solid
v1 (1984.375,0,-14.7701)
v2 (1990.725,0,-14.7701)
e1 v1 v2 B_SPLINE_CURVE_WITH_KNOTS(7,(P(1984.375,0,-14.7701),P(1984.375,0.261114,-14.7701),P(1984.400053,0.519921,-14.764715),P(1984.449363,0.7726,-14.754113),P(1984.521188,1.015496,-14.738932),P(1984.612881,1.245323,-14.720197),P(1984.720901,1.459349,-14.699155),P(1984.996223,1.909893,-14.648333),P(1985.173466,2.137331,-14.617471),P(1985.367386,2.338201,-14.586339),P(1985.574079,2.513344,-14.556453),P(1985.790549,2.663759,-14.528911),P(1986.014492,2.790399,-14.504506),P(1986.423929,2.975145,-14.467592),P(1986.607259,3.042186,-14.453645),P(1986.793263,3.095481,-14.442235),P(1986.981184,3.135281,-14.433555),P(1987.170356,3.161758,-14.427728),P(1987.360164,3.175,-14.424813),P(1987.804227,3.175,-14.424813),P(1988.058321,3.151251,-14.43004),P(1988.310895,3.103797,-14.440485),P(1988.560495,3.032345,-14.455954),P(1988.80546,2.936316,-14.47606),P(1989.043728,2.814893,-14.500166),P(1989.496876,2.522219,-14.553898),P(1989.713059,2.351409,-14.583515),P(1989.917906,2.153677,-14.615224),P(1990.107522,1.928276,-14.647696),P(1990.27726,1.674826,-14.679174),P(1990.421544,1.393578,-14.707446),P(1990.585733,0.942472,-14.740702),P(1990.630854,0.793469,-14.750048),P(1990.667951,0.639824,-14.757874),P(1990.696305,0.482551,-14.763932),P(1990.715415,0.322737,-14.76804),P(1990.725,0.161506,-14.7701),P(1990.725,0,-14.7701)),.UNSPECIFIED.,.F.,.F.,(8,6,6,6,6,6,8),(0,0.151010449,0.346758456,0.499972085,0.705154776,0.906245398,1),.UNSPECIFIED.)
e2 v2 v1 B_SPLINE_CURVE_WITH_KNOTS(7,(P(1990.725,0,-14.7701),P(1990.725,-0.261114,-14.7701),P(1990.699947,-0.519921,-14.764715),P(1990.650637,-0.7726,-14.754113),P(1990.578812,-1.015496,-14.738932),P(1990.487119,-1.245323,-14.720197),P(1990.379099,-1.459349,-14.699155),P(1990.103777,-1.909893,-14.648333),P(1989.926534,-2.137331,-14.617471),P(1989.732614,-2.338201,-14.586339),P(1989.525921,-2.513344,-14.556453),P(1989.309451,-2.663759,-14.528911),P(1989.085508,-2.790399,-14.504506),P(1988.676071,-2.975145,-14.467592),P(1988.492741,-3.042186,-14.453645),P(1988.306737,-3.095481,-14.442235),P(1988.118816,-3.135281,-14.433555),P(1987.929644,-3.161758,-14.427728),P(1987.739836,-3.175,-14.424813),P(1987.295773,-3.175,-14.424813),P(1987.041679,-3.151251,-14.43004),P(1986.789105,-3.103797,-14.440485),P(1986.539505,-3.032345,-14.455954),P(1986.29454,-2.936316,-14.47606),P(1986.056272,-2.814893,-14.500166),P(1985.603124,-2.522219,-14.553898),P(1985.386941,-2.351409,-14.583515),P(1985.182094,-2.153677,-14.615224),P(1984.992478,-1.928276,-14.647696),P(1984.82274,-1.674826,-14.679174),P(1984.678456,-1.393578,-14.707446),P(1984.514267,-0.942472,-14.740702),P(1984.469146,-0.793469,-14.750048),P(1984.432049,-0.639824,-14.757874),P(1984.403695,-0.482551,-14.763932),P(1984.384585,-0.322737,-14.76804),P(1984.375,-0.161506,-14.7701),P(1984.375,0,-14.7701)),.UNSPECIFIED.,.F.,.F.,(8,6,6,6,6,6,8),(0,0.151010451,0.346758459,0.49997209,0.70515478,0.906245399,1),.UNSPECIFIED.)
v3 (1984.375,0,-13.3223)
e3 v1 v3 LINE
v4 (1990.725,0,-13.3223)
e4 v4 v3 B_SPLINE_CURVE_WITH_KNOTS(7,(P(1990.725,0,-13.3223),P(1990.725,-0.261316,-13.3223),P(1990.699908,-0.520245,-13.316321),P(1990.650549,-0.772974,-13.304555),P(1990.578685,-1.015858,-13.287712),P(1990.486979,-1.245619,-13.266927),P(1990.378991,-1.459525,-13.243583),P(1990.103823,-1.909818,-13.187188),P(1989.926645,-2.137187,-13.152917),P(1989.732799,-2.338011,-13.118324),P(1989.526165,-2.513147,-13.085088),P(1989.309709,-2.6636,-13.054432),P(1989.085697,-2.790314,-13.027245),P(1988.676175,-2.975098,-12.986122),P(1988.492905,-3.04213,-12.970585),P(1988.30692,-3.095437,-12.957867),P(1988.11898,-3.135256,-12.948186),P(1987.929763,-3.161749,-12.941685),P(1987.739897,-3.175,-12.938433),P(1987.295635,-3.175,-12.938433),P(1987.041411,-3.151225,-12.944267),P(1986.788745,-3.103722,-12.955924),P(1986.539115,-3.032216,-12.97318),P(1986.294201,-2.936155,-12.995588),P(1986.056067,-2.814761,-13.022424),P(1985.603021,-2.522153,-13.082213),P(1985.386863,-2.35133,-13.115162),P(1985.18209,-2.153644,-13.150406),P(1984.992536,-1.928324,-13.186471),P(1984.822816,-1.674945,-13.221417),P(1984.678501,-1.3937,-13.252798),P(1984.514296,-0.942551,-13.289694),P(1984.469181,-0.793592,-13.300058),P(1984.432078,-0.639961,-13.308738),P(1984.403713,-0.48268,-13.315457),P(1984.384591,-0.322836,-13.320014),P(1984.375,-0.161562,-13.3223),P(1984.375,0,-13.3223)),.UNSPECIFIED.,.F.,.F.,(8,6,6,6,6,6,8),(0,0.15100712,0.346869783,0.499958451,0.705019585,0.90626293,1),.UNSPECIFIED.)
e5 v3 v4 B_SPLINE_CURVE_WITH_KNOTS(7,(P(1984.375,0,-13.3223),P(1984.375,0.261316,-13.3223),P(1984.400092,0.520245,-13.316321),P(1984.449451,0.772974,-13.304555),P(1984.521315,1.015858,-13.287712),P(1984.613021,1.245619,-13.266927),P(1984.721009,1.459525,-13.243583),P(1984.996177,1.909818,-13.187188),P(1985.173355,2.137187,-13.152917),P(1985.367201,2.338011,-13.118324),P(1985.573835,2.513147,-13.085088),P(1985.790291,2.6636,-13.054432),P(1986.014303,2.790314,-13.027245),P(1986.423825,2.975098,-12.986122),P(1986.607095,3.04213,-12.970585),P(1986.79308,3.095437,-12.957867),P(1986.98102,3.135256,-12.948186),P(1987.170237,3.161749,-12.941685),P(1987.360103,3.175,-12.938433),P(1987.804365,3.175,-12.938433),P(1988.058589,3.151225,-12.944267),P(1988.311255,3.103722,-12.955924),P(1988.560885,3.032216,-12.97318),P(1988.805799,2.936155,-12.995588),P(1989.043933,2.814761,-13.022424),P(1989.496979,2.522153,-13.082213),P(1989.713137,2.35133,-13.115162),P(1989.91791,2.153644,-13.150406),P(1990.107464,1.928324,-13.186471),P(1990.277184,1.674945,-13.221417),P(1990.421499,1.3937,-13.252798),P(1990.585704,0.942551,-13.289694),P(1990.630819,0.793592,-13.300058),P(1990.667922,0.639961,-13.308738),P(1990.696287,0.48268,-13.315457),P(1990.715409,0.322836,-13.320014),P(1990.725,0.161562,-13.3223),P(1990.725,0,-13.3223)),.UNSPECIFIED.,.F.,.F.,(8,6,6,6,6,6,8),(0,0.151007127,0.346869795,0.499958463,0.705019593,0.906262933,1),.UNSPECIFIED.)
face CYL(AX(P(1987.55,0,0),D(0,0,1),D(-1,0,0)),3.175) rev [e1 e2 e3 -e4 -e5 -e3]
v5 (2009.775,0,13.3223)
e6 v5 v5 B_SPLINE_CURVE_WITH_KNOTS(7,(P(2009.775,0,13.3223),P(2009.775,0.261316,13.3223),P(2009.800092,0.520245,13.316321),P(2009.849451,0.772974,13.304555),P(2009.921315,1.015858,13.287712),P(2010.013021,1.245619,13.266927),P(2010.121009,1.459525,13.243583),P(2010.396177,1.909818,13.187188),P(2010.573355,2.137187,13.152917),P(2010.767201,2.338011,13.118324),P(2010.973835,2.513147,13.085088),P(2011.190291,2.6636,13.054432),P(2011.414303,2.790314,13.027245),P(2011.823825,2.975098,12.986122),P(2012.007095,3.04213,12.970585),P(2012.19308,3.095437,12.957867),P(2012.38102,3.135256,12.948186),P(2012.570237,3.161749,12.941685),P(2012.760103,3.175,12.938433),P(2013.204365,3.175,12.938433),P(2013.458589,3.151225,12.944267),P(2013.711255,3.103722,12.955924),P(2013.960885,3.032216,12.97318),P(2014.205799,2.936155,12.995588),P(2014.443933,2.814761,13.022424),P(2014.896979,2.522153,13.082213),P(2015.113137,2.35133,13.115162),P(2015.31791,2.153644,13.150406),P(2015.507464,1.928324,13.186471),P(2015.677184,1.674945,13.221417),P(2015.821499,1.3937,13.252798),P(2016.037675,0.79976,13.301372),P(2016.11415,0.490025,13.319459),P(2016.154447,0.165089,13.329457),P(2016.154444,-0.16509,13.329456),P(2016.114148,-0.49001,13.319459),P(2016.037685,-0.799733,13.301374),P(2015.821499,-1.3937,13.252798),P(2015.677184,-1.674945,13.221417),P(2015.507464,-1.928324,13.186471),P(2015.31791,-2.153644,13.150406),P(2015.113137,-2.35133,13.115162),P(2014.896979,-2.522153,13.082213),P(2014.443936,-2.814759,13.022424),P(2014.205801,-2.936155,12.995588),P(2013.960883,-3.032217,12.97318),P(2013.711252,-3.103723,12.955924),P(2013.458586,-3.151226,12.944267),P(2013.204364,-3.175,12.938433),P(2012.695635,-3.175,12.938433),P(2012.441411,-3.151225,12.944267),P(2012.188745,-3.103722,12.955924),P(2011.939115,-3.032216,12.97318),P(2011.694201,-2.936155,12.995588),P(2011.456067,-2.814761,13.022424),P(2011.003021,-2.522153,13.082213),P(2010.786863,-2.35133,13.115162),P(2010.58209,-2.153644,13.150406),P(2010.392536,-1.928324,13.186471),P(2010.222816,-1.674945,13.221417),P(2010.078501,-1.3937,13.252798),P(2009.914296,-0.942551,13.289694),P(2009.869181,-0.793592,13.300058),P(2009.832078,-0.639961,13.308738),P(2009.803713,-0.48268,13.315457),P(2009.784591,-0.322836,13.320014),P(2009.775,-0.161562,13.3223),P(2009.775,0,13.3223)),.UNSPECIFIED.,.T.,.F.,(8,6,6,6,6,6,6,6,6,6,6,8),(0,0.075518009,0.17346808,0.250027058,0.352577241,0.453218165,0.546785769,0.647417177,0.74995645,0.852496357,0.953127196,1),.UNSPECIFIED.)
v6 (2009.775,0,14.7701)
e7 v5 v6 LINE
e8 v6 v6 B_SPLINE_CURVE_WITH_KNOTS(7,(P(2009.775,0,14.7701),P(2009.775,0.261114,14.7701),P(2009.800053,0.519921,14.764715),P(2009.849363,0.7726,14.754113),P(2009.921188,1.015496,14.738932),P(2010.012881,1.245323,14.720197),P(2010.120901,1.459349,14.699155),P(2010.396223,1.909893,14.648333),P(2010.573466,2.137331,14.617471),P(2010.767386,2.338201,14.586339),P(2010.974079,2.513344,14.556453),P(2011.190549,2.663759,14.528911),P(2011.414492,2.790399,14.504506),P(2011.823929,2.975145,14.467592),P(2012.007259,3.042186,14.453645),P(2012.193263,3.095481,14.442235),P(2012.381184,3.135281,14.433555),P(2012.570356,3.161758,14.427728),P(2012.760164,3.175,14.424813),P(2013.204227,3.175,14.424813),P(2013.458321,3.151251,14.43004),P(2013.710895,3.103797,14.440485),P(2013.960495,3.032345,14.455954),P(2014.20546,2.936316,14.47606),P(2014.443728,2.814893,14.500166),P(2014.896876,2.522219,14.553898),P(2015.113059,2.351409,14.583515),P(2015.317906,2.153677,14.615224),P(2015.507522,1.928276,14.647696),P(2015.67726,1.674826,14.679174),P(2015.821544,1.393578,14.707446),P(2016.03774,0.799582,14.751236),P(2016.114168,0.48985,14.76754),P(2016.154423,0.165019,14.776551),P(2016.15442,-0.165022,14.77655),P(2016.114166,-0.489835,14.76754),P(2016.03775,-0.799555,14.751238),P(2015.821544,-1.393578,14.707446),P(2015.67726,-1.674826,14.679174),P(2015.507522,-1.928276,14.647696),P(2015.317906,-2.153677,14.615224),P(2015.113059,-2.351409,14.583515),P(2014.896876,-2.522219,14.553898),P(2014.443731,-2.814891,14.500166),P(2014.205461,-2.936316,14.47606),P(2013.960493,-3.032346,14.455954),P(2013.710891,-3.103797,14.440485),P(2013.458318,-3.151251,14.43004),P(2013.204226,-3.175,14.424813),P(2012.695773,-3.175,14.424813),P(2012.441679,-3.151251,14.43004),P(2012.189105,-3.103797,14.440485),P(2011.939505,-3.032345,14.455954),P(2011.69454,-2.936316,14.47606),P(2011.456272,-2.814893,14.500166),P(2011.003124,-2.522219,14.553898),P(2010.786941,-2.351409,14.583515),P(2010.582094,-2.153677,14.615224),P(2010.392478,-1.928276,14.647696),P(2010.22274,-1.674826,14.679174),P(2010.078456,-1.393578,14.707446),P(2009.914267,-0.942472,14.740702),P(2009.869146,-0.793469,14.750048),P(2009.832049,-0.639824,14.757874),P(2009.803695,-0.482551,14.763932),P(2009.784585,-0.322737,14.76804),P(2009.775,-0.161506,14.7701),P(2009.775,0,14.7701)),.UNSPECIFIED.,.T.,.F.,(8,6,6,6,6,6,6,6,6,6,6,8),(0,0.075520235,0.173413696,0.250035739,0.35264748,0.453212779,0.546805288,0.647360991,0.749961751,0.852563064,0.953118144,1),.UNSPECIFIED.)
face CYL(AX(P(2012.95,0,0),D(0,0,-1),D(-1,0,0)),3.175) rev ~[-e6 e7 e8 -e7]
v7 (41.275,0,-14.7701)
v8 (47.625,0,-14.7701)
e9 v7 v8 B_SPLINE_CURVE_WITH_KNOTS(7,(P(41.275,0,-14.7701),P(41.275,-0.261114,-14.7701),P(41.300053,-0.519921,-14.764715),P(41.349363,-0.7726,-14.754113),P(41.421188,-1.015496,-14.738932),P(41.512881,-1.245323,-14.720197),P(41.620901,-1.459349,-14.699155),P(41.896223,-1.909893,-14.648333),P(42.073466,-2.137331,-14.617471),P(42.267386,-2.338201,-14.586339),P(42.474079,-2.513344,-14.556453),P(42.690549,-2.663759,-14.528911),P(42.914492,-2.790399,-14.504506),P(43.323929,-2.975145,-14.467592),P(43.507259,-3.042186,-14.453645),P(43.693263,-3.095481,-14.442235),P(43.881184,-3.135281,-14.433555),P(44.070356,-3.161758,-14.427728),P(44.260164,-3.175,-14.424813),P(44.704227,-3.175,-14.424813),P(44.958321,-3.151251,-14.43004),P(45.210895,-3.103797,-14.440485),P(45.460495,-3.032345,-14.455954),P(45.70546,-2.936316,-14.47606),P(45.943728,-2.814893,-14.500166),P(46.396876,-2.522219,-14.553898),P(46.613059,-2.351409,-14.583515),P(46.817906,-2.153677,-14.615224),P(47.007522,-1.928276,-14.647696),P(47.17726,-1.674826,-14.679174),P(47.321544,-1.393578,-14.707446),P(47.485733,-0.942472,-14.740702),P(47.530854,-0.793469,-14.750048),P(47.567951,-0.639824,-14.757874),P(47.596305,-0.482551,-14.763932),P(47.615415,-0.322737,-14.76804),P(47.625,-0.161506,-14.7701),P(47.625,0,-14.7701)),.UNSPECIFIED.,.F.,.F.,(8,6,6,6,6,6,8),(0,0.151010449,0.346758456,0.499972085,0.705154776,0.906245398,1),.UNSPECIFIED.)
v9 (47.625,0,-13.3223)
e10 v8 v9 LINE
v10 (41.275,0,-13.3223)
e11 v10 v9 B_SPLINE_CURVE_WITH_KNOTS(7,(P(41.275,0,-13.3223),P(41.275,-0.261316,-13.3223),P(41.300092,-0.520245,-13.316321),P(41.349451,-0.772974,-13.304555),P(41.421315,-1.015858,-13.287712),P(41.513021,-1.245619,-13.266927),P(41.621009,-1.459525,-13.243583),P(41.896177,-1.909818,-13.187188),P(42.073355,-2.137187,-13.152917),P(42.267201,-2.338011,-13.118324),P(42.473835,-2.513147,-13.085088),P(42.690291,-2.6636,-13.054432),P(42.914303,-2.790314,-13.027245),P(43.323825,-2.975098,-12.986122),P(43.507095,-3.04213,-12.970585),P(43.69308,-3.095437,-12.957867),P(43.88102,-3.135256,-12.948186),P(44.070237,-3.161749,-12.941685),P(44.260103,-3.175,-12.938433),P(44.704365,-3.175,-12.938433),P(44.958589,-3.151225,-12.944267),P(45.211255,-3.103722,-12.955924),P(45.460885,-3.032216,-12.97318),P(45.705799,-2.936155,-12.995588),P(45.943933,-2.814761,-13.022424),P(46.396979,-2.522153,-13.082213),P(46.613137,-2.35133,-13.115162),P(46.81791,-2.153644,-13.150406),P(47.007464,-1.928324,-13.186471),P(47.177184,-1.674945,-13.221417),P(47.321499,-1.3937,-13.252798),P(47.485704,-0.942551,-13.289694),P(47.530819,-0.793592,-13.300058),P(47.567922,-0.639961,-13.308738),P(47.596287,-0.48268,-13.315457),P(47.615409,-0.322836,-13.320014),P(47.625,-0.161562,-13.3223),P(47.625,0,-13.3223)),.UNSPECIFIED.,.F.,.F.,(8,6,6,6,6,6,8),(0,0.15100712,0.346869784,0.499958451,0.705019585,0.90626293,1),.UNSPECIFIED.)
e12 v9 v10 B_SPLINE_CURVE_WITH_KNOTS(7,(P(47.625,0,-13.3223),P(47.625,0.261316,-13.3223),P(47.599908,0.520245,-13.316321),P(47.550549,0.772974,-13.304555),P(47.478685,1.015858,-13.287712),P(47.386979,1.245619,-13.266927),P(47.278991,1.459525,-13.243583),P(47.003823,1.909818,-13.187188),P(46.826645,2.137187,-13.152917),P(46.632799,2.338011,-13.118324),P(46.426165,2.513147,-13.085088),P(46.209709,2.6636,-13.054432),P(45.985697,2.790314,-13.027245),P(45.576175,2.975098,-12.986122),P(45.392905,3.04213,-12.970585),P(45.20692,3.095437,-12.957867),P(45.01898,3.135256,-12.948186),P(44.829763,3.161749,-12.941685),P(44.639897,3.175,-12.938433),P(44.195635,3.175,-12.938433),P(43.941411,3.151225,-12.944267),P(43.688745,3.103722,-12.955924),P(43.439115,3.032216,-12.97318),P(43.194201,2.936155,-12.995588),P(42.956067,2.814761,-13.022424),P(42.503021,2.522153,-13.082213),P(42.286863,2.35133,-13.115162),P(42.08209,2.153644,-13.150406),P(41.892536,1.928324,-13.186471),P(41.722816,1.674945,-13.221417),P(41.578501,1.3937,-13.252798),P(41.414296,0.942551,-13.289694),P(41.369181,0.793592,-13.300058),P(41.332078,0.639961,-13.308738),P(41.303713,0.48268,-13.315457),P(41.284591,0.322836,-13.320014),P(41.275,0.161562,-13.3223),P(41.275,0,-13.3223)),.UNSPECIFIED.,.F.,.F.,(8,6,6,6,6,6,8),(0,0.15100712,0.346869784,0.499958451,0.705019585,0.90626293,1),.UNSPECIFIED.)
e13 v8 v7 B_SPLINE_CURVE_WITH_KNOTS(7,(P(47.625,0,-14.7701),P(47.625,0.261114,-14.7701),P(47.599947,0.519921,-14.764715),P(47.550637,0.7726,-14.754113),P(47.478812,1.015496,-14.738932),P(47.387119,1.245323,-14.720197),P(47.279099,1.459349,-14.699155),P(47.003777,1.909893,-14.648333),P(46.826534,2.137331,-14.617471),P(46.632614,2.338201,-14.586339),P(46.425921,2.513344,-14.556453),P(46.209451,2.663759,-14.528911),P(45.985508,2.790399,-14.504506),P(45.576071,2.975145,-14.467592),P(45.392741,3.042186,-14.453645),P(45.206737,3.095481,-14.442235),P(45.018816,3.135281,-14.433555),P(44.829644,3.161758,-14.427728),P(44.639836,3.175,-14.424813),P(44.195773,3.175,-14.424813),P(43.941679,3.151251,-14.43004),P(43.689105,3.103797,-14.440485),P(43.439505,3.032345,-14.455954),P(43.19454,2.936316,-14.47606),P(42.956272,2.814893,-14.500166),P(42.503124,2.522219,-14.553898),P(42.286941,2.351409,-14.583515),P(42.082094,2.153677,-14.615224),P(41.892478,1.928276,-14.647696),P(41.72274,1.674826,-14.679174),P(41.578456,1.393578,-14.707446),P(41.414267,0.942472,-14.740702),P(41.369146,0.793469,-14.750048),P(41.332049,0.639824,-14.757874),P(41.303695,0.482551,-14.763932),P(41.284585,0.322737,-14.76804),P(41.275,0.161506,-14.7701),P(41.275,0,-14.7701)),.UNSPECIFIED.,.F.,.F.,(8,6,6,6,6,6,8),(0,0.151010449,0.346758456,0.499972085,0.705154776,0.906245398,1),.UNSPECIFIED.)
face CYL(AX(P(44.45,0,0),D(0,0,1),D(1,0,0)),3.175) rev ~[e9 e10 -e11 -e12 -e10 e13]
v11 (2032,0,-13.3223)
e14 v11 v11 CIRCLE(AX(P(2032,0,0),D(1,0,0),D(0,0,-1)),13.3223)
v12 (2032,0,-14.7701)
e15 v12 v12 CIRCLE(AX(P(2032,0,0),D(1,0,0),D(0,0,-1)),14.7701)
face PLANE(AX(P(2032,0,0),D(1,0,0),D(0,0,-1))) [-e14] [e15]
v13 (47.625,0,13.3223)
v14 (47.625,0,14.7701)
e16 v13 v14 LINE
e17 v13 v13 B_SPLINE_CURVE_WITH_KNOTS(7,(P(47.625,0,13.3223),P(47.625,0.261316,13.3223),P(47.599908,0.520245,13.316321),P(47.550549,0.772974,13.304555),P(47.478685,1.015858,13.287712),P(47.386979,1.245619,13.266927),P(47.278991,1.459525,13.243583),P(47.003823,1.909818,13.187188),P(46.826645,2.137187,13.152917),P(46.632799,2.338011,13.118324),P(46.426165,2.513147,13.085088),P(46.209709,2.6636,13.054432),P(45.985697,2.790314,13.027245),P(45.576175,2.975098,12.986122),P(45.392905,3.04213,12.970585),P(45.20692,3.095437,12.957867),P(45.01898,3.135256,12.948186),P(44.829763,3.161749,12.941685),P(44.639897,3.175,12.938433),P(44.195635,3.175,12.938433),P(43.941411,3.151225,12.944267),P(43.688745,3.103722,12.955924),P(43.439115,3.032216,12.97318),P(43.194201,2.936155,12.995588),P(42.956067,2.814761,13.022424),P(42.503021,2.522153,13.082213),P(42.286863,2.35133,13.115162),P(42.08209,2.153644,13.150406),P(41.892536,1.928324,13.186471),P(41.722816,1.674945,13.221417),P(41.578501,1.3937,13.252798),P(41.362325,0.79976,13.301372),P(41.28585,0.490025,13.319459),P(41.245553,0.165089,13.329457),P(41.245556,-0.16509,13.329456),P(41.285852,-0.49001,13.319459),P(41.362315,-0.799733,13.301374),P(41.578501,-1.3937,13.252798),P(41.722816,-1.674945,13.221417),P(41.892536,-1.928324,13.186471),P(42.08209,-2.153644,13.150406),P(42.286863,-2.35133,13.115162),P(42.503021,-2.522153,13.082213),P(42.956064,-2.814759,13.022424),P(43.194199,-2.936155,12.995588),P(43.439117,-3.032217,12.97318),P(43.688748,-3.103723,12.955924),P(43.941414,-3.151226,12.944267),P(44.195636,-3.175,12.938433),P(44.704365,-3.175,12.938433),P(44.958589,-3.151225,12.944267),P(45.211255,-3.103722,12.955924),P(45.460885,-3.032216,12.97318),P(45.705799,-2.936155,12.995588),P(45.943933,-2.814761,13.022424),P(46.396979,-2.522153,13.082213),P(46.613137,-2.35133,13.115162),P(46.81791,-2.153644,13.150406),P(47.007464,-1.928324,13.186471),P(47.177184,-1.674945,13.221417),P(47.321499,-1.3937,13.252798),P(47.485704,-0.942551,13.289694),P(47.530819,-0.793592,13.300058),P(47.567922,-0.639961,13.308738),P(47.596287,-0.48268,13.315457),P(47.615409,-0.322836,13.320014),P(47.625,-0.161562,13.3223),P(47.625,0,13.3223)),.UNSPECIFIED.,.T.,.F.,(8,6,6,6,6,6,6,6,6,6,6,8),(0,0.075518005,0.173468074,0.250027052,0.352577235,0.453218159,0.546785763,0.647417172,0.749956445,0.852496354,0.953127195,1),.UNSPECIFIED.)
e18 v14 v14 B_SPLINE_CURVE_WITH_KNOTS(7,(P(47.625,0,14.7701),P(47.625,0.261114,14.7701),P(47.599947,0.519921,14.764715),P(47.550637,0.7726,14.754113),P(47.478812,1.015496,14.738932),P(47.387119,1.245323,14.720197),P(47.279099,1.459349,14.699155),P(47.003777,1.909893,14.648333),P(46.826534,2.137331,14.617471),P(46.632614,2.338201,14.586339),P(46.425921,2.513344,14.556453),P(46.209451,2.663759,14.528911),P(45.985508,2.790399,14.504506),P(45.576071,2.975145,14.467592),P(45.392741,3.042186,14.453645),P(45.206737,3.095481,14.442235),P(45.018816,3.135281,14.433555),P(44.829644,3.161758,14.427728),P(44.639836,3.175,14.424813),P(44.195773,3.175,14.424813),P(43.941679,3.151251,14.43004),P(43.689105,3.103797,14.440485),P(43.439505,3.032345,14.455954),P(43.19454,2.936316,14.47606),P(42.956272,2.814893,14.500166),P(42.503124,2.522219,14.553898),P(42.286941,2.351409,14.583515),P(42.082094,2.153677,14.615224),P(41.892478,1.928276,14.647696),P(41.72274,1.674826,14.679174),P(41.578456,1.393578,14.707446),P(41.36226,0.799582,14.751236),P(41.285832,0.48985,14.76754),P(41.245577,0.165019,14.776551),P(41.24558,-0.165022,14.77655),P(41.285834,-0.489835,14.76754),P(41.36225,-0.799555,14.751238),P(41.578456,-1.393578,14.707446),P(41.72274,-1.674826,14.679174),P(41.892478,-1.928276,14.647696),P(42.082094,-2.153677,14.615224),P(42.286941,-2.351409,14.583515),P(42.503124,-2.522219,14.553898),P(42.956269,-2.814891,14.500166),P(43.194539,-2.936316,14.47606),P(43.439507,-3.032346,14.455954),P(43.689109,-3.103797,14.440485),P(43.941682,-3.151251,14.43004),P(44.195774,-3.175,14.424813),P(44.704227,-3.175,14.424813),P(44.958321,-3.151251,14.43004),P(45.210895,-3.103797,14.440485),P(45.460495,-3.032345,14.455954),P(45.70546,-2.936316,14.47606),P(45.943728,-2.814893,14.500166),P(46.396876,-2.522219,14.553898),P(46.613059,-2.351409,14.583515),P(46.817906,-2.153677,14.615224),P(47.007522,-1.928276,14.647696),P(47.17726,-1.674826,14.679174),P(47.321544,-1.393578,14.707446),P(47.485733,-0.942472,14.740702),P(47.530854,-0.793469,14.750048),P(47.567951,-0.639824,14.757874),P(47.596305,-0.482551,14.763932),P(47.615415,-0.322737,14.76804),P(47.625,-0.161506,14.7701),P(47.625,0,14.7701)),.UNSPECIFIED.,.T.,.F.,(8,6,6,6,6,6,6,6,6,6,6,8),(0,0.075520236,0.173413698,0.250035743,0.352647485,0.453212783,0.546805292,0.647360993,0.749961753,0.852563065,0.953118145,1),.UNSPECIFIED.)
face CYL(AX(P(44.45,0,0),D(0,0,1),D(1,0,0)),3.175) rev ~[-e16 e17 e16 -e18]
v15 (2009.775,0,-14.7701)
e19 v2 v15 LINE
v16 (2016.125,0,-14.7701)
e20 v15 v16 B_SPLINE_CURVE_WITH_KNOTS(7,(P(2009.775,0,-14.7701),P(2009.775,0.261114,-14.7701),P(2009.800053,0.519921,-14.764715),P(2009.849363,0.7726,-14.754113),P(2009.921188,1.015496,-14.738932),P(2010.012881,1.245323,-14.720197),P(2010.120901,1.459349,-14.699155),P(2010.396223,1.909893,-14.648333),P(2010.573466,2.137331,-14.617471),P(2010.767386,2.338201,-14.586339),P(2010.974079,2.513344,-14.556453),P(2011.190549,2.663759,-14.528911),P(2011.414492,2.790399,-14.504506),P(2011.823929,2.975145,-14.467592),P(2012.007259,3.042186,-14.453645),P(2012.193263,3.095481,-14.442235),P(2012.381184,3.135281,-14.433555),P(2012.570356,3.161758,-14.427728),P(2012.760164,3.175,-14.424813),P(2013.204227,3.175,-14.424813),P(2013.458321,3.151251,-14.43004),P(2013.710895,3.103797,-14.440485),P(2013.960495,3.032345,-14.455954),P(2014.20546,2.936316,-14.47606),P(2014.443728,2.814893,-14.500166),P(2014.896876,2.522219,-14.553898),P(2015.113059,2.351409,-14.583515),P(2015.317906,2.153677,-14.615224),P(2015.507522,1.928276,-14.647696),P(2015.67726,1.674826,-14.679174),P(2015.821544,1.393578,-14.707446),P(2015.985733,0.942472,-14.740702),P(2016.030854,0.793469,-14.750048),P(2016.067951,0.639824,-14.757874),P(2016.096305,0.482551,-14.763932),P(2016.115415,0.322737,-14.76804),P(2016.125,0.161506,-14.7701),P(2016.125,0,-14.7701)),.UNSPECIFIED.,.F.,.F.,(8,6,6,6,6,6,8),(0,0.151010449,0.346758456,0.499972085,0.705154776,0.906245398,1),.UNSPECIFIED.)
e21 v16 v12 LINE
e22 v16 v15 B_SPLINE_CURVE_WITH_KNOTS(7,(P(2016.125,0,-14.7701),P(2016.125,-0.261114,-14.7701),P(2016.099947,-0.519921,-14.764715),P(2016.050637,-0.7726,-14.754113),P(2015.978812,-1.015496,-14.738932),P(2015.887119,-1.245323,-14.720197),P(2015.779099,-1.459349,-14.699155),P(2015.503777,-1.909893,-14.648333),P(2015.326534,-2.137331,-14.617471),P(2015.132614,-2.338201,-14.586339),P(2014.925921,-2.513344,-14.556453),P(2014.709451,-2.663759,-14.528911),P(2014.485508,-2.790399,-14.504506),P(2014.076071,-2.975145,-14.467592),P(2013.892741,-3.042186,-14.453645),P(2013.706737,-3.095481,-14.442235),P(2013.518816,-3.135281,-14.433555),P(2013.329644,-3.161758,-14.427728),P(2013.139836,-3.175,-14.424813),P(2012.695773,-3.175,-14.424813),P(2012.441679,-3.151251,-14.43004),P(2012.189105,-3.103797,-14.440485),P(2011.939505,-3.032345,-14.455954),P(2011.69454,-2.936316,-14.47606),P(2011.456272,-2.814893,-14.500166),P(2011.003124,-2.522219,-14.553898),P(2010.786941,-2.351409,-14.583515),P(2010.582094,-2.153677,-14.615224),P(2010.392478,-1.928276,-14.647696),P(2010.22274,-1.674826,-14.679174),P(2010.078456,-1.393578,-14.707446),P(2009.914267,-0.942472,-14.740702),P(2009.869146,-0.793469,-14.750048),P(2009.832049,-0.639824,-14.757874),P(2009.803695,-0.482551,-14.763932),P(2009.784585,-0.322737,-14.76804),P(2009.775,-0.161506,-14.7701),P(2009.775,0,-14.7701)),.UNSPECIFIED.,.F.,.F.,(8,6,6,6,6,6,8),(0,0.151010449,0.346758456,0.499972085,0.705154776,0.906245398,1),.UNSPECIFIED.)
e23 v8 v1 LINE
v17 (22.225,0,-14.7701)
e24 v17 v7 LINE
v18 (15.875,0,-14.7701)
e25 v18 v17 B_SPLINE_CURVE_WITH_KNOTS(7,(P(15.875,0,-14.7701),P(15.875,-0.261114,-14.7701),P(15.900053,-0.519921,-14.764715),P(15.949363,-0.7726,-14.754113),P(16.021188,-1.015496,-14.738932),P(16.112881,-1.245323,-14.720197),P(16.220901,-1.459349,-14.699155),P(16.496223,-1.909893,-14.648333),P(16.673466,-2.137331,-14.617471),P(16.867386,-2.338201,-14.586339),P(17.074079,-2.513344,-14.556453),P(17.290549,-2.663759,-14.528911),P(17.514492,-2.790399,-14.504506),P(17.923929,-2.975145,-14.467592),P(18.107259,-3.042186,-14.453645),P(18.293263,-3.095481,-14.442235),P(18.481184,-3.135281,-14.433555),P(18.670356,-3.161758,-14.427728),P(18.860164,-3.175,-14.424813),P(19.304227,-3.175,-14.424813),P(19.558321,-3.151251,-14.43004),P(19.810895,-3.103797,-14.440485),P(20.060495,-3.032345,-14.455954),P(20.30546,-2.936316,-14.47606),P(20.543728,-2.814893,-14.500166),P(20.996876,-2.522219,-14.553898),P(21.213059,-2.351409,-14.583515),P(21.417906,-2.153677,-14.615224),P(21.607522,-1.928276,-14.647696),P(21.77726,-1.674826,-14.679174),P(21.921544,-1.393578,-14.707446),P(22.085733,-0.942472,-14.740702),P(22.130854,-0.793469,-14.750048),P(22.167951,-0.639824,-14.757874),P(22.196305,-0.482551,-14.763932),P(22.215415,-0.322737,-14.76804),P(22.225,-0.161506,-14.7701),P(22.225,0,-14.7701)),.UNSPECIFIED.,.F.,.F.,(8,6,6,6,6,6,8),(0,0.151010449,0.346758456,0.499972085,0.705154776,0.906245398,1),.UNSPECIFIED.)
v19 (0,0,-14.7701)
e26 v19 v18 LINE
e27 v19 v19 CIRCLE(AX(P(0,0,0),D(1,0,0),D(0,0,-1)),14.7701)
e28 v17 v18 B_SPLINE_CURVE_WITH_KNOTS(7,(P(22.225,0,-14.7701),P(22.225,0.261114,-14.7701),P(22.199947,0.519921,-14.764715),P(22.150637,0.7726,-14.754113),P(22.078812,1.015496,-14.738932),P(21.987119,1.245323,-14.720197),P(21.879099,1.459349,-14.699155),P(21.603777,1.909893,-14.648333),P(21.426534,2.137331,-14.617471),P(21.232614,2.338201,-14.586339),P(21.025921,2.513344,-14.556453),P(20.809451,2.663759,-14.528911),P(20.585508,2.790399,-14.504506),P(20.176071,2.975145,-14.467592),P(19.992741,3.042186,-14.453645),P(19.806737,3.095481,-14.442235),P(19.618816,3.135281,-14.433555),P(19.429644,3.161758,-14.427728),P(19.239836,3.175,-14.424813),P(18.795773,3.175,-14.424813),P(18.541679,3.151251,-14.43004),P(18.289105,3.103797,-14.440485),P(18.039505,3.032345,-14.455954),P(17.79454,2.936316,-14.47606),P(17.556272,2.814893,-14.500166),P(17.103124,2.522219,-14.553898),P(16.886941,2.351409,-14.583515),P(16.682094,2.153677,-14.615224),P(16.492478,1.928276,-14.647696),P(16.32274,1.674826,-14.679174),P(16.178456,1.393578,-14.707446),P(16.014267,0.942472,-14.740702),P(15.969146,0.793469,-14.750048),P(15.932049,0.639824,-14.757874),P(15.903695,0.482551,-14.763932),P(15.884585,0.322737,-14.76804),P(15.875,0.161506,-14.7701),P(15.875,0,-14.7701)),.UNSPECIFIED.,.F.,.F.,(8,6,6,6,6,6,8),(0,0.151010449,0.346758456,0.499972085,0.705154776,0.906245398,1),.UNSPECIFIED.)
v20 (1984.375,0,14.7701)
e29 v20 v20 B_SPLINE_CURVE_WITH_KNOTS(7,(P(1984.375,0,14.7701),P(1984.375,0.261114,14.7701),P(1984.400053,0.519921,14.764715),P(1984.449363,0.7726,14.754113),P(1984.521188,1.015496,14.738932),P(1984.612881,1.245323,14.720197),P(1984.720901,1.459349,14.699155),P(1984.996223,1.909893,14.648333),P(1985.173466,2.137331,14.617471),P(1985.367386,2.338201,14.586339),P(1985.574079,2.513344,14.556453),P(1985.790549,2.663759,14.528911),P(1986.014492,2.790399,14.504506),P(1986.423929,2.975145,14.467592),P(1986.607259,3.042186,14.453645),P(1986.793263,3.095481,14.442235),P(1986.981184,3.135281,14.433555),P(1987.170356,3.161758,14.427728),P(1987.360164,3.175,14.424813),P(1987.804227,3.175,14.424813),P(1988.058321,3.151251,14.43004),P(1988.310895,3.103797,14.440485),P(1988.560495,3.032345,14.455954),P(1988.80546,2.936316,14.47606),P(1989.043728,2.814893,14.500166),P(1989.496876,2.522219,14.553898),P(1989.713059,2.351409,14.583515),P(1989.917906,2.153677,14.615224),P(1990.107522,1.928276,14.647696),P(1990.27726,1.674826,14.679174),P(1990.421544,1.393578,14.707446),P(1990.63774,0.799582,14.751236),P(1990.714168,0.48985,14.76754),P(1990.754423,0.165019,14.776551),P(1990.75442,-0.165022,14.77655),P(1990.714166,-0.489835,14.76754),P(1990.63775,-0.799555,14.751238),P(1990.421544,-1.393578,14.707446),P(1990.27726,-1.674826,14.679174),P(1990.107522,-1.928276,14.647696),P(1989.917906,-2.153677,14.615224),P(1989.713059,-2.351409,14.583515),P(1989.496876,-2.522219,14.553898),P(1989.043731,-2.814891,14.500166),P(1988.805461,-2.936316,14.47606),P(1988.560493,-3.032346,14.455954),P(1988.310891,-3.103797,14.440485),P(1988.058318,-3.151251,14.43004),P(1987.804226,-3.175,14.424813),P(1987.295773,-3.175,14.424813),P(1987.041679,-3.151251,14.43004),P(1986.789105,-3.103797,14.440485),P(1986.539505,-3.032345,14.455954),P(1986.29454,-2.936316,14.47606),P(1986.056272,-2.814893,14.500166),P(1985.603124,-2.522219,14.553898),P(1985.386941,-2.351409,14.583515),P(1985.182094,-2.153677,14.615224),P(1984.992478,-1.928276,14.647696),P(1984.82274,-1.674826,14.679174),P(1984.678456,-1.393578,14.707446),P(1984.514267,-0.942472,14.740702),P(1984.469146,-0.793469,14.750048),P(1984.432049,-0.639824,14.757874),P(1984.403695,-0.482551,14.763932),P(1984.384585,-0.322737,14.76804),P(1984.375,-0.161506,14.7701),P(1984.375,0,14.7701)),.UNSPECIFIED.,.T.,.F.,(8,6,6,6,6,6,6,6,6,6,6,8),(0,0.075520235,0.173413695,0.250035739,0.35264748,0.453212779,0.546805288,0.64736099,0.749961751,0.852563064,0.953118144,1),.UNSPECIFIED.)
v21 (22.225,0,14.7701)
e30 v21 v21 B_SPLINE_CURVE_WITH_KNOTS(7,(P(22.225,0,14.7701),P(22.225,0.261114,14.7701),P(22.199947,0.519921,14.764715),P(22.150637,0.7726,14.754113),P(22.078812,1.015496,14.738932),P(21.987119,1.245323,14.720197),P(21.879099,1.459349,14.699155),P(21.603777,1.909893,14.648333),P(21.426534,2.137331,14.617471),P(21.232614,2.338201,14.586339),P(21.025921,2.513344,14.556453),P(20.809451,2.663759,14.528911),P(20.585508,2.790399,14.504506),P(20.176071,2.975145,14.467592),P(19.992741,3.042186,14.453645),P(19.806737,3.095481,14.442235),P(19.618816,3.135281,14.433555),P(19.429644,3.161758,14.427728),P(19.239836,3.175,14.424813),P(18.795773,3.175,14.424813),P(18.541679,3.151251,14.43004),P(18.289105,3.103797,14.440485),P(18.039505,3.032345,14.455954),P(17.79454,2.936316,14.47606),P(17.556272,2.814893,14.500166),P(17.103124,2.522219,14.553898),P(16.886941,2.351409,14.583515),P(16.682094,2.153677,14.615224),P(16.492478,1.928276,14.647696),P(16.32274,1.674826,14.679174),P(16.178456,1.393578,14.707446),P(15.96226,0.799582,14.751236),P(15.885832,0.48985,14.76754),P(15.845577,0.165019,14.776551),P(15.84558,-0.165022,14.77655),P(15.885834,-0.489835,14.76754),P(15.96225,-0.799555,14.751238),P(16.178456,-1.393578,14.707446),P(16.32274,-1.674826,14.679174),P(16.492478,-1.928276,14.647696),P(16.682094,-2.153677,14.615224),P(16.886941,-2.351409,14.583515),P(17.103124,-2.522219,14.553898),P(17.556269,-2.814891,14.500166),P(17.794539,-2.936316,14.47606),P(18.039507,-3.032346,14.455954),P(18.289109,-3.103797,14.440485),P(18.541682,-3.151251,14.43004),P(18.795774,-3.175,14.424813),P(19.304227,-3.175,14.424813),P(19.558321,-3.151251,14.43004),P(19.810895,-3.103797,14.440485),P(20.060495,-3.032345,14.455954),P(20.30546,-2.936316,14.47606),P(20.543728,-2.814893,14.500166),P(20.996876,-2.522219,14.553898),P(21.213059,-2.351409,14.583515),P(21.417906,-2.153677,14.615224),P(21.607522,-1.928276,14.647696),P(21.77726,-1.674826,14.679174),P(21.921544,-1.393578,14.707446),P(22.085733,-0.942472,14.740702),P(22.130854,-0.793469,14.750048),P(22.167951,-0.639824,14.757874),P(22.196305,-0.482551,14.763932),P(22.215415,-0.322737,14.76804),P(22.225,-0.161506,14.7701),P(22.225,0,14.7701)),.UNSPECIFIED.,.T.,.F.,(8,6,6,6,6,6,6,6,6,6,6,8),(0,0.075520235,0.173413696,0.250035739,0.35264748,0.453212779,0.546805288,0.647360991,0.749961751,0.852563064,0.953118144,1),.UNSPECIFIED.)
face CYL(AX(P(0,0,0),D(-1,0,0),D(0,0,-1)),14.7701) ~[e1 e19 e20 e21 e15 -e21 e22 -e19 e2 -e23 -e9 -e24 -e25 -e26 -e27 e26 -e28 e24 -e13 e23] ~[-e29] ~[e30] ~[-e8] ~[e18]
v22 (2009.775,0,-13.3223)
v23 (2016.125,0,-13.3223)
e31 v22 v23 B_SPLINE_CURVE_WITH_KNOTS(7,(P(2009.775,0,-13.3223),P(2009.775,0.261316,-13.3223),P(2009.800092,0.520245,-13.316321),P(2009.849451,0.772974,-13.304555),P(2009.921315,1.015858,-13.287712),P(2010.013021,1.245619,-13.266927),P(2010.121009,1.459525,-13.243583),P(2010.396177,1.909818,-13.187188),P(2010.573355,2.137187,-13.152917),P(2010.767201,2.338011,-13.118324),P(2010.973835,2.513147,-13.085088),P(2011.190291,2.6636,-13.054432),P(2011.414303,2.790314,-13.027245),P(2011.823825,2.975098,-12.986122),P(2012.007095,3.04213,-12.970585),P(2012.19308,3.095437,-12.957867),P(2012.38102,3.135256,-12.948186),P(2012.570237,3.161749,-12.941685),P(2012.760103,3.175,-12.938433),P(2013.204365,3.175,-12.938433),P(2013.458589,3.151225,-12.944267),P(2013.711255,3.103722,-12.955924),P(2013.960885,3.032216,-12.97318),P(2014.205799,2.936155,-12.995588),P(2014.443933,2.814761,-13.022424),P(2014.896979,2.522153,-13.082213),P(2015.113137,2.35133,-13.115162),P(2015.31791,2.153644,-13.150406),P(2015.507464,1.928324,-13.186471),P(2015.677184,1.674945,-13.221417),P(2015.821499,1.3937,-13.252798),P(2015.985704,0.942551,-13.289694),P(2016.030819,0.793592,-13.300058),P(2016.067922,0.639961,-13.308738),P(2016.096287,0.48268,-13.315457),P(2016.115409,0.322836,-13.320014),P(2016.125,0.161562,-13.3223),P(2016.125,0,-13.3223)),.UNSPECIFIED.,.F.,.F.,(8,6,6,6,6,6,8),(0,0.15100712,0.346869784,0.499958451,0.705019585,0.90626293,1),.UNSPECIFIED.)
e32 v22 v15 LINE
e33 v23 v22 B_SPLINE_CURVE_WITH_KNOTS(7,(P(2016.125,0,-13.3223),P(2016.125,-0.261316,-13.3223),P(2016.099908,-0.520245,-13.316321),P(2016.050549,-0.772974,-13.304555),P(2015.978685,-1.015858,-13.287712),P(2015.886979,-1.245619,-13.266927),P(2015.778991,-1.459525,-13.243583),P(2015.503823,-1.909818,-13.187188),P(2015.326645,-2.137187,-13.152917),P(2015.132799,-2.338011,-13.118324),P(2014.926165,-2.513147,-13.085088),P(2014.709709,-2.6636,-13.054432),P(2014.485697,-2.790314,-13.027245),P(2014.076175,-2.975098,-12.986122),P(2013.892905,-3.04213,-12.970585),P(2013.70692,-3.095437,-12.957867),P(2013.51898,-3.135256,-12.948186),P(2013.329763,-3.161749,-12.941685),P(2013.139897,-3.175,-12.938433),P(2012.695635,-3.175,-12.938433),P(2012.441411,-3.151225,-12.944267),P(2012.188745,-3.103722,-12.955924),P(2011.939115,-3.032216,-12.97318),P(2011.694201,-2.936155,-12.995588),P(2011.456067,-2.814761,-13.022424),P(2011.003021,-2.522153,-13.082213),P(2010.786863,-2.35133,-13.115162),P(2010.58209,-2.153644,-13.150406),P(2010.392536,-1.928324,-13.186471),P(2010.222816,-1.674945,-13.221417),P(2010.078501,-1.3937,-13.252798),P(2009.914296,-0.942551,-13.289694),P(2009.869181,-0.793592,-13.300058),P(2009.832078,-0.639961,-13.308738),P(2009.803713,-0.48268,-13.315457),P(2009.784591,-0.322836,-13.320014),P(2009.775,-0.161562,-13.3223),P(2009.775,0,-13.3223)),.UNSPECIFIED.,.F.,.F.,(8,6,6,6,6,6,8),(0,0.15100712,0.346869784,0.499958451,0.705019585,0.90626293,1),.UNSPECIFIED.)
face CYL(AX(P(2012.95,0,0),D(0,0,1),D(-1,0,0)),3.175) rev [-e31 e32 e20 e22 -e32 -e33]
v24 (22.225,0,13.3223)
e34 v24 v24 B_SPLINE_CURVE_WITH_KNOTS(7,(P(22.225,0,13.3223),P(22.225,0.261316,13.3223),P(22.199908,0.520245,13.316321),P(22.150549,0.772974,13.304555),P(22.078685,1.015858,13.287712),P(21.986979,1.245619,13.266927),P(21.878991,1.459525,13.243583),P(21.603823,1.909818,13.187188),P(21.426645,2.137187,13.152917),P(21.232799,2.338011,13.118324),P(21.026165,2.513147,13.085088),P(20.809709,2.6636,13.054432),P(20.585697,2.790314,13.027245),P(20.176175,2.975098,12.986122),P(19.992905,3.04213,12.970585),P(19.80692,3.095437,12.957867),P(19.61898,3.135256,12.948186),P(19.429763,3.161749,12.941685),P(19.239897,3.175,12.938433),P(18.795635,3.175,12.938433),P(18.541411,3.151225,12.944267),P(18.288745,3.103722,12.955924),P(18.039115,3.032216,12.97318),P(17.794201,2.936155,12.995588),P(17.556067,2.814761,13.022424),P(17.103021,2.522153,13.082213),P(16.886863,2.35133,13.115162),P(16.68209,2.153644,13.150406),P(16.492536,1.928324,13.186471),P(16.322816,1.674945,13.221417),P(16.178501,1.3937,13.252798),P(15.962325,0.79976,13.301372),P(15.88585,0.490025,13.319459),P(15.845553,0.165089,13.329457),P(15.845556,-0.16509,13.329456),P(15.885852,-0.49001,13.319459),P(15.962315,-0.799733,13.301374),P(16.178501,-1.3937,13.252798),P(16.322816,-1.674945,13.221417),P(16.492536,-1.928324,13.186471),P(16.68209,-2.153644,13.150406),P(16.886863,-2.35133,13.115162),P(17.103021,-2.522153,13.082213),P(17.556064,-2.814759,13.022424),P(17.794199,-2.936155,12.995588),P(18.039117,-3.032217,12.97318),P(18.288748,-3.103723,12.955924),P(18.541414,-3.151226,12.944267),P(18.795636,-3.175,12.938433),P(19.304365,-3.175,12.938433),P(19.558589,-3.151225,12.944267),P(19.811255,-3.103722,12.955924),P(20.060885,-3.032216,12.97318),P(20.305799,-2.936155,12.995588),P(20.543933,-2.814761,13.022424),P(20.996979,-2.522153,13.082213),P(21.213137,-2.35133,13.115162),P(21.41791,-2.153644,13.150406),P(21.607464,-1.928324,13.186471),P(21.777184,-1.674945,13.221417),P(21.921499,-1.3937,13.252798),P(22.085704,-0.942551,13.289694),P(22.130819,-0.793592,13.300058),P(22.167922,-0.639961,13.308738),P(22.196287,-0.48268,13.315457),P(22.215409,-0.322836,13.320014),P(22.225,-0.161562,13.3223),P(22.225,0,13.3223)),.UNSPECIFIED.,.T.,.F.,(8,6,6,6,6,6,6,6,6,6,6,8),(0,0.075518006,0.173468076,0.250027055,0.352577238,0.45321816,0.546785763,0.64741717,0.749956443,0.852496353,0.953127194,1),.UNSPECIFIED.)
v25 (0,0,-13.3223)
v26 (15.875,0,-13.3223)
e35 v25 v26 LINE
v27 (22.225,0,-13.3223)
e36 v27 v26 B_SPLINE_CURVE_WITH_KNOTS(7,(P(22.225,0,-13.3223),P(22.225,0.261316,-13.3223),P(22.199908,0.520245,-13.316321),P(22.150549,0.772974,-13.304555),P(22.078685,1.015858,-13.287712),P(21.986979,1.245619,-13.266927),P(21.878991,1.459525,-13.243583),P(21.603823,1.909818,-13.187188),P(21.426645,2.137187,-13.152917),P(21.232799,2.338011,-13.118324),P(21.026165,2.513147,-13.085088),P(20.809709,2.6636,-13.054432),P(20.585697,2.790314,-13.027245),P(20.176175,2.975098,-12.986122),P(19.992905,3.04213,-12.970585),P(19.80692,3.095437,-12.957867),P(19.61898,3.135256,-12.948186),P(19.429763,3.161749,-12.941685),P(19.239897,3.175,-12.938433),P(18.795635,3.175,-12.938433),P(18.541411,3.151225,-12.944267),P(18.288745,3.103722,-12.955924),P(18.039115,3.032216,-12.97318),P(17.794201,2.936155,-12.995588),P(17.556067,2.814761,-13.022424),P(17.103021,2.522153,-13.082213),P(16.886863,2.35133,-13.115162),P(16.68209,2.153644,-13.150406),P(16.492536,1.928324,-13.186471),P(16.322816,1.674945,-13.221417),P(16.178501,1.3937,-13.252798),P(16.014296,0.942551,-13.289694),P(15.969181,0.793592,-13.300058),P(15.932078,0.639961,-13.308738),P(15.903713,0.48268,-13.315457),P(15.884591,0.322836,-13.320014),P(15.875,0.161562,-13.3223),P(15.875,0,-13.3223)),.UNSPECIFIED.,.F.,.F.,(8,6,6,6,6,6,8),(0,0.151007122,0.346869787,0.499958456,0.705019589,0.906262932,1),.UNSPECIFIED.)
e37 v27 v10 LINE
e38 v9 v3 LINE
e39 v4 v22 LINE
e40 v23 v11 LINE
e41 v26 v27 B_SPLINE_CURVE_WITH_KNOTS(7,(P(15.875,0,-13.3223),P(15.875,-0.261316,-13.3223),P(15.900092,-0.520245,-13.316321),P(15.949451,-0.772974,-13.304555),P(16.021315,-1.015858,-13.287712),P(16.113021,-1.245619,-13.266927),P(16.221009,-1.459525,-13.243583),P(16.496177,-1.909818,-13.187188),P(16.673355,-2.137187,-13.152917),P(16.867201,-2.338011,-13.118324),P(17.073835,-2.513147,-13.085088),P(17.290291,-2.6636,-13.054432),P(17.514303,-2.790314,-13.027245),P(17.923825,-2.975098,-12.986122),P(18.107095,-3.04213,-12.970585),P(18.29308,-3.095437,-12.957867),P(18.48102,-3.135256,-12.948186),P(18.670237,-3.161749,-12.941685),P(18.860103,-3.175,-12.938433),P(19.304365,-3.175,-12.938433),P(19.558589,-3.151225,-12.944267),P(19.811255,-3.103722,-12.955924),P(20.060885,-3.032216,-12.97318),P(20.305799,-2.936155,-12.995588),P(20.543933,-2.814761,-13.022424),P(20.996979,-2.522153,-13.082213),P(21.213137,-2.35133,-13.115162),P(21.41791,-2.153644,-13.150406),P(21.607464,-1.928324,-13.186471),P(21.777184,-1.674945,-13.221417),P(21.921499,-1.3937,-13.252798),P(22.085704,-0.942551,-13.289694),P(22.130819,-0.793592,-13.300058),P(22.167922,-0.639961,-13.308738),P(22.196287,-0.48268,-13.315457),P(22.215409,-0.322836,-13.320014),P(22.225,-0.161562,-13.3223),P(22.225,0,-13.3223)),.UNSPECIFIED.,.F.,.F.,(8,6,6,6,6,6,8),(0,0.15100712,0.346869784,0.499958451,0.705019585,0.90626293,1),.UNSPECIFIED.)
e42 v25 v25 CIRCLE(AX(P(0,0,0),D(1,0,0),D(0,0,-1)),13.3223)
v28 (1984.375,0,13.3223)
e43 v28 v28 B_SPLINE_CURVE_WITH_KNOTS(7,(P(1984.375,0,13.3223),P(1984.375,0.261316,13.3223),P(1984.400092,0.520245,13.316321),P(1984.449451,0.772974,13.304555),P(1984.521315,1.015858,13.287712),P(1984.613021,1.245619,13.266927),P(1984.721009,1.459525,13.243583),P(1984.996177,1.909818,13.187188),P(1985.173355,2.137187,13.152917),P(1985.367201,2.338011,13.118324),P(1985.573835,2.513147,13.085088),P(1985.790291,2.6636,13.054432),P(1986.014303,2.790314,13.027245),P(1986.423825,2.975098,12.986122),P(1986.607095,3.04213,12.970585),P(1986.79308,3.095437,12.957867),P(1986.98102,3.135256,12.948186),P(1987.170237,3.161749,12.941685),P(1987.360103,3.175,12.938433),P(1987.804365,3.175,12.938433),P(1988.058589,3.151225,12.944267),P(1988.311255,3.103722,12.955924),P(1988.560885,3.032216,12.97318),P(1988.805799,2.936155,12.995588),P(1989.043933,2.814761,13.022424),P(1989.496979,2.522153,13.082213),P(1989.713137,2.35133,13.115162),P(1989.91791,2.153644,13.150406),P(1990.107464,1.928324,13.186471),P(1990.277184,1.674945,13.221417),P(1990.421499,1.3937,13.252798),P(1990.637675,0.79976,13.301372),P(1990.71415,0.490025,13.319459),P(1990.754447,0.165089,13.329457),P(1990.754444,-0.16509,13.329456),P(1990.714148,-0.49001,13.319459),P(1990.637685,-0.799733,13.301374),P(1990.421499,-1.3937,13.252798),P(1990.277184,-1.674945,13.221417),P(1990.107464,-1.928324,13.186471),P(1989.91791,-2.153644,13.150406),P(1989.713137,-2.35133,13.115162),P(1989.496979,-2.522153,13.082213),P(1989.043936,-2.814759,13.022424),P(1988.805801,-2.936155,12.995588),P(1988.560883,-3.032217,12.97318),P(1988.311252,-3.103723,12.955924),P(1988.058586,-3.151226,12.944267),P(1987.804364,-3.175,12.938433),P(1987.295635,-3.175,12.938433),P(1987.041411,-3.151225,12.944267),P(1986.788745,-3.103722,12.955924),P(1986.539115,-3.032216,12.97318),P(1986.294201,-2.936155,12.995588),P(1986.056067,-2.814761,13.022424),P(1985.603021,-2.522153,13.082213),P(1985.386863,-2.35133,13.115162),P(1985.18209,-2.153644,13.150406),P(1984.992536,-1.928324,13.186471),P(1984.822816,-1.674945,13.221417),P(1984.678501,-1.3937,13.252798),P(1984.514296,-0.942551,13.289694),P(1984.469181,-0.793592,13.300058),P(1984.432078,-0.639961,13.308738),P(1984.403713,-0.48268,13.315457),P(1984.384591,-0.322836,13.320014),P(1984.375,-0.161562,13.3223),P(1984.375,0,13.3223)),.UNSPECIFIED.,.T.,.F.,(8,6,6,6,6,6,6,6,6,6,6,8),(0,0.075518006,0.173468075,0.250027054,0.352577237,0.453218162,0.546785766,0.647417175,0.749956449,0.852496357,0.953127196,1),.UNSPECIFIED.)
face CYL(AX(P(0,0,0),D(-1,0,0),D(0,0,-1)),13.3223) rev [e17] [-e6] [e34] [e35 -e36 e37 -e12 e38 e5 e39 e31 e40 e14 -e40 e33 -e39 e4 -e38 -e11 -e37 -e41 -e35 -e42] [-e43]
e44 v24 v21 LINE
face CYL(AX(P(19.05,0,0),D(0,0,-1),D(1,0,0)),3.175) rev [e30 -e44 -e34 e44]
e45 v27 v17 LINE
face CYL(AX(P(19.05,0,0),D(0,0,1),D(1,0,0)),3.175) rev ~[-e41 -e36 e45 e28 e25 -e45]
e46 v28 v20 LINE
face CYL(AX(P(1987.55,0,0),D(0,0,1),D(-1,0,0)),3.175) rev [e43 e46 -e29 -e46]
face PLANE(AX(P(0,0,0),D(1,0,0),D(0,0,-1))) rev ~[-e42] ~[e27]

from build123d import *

# Parameters (mm, degrees)
SKETCH1_R           = 14.7701
SKETCH1_R_2         = 13.3223
BOSS_EXTRUDE1_DEPTH = 2032
SKETCH2_R           = 3.175
CUT_EXTRUDE1_DEPTH  = 2033.107357328


with BuildPart() as part:
    # Sketch1 → Boss-Extrude1 (new body)
    with BuildSketch(Plane(origin=(0, 0, 0), x_dir=(0, 0, -1), z_dir=(1, 0, 0))):
        Circle(SKETCH1_R)
        Circle(SKETCH1_R_2, mode=Mode.SUBTRACT)
    extrude(amount=BOSS_EXTRUDE1_DEPTH)

    # Sketch2 → Cut-Extrude1 (cut, symmetric)
    with BuildSketch(Plane.XY):
        with Locations((19.05, 0)):
            Circle(SKETCH2_R)
        with Locations((44.45, 0)):
            Circle(SKETCH2_R)
    cut_extrude1 = extrude(amount=CUT_EXTRUDE1_DEPTH, both=True, mode=Mode.SUBTRACT)

    # Mirror1: Cut-Extrude1 across plane
    add(cut_extrude1.mirror(Plane(origin=(1016, 0, 0), x_dir=(0, 0, 1), z_dir=(1, 0, 0))), mode=Mode.SUBTRACT)


solid = part.part
